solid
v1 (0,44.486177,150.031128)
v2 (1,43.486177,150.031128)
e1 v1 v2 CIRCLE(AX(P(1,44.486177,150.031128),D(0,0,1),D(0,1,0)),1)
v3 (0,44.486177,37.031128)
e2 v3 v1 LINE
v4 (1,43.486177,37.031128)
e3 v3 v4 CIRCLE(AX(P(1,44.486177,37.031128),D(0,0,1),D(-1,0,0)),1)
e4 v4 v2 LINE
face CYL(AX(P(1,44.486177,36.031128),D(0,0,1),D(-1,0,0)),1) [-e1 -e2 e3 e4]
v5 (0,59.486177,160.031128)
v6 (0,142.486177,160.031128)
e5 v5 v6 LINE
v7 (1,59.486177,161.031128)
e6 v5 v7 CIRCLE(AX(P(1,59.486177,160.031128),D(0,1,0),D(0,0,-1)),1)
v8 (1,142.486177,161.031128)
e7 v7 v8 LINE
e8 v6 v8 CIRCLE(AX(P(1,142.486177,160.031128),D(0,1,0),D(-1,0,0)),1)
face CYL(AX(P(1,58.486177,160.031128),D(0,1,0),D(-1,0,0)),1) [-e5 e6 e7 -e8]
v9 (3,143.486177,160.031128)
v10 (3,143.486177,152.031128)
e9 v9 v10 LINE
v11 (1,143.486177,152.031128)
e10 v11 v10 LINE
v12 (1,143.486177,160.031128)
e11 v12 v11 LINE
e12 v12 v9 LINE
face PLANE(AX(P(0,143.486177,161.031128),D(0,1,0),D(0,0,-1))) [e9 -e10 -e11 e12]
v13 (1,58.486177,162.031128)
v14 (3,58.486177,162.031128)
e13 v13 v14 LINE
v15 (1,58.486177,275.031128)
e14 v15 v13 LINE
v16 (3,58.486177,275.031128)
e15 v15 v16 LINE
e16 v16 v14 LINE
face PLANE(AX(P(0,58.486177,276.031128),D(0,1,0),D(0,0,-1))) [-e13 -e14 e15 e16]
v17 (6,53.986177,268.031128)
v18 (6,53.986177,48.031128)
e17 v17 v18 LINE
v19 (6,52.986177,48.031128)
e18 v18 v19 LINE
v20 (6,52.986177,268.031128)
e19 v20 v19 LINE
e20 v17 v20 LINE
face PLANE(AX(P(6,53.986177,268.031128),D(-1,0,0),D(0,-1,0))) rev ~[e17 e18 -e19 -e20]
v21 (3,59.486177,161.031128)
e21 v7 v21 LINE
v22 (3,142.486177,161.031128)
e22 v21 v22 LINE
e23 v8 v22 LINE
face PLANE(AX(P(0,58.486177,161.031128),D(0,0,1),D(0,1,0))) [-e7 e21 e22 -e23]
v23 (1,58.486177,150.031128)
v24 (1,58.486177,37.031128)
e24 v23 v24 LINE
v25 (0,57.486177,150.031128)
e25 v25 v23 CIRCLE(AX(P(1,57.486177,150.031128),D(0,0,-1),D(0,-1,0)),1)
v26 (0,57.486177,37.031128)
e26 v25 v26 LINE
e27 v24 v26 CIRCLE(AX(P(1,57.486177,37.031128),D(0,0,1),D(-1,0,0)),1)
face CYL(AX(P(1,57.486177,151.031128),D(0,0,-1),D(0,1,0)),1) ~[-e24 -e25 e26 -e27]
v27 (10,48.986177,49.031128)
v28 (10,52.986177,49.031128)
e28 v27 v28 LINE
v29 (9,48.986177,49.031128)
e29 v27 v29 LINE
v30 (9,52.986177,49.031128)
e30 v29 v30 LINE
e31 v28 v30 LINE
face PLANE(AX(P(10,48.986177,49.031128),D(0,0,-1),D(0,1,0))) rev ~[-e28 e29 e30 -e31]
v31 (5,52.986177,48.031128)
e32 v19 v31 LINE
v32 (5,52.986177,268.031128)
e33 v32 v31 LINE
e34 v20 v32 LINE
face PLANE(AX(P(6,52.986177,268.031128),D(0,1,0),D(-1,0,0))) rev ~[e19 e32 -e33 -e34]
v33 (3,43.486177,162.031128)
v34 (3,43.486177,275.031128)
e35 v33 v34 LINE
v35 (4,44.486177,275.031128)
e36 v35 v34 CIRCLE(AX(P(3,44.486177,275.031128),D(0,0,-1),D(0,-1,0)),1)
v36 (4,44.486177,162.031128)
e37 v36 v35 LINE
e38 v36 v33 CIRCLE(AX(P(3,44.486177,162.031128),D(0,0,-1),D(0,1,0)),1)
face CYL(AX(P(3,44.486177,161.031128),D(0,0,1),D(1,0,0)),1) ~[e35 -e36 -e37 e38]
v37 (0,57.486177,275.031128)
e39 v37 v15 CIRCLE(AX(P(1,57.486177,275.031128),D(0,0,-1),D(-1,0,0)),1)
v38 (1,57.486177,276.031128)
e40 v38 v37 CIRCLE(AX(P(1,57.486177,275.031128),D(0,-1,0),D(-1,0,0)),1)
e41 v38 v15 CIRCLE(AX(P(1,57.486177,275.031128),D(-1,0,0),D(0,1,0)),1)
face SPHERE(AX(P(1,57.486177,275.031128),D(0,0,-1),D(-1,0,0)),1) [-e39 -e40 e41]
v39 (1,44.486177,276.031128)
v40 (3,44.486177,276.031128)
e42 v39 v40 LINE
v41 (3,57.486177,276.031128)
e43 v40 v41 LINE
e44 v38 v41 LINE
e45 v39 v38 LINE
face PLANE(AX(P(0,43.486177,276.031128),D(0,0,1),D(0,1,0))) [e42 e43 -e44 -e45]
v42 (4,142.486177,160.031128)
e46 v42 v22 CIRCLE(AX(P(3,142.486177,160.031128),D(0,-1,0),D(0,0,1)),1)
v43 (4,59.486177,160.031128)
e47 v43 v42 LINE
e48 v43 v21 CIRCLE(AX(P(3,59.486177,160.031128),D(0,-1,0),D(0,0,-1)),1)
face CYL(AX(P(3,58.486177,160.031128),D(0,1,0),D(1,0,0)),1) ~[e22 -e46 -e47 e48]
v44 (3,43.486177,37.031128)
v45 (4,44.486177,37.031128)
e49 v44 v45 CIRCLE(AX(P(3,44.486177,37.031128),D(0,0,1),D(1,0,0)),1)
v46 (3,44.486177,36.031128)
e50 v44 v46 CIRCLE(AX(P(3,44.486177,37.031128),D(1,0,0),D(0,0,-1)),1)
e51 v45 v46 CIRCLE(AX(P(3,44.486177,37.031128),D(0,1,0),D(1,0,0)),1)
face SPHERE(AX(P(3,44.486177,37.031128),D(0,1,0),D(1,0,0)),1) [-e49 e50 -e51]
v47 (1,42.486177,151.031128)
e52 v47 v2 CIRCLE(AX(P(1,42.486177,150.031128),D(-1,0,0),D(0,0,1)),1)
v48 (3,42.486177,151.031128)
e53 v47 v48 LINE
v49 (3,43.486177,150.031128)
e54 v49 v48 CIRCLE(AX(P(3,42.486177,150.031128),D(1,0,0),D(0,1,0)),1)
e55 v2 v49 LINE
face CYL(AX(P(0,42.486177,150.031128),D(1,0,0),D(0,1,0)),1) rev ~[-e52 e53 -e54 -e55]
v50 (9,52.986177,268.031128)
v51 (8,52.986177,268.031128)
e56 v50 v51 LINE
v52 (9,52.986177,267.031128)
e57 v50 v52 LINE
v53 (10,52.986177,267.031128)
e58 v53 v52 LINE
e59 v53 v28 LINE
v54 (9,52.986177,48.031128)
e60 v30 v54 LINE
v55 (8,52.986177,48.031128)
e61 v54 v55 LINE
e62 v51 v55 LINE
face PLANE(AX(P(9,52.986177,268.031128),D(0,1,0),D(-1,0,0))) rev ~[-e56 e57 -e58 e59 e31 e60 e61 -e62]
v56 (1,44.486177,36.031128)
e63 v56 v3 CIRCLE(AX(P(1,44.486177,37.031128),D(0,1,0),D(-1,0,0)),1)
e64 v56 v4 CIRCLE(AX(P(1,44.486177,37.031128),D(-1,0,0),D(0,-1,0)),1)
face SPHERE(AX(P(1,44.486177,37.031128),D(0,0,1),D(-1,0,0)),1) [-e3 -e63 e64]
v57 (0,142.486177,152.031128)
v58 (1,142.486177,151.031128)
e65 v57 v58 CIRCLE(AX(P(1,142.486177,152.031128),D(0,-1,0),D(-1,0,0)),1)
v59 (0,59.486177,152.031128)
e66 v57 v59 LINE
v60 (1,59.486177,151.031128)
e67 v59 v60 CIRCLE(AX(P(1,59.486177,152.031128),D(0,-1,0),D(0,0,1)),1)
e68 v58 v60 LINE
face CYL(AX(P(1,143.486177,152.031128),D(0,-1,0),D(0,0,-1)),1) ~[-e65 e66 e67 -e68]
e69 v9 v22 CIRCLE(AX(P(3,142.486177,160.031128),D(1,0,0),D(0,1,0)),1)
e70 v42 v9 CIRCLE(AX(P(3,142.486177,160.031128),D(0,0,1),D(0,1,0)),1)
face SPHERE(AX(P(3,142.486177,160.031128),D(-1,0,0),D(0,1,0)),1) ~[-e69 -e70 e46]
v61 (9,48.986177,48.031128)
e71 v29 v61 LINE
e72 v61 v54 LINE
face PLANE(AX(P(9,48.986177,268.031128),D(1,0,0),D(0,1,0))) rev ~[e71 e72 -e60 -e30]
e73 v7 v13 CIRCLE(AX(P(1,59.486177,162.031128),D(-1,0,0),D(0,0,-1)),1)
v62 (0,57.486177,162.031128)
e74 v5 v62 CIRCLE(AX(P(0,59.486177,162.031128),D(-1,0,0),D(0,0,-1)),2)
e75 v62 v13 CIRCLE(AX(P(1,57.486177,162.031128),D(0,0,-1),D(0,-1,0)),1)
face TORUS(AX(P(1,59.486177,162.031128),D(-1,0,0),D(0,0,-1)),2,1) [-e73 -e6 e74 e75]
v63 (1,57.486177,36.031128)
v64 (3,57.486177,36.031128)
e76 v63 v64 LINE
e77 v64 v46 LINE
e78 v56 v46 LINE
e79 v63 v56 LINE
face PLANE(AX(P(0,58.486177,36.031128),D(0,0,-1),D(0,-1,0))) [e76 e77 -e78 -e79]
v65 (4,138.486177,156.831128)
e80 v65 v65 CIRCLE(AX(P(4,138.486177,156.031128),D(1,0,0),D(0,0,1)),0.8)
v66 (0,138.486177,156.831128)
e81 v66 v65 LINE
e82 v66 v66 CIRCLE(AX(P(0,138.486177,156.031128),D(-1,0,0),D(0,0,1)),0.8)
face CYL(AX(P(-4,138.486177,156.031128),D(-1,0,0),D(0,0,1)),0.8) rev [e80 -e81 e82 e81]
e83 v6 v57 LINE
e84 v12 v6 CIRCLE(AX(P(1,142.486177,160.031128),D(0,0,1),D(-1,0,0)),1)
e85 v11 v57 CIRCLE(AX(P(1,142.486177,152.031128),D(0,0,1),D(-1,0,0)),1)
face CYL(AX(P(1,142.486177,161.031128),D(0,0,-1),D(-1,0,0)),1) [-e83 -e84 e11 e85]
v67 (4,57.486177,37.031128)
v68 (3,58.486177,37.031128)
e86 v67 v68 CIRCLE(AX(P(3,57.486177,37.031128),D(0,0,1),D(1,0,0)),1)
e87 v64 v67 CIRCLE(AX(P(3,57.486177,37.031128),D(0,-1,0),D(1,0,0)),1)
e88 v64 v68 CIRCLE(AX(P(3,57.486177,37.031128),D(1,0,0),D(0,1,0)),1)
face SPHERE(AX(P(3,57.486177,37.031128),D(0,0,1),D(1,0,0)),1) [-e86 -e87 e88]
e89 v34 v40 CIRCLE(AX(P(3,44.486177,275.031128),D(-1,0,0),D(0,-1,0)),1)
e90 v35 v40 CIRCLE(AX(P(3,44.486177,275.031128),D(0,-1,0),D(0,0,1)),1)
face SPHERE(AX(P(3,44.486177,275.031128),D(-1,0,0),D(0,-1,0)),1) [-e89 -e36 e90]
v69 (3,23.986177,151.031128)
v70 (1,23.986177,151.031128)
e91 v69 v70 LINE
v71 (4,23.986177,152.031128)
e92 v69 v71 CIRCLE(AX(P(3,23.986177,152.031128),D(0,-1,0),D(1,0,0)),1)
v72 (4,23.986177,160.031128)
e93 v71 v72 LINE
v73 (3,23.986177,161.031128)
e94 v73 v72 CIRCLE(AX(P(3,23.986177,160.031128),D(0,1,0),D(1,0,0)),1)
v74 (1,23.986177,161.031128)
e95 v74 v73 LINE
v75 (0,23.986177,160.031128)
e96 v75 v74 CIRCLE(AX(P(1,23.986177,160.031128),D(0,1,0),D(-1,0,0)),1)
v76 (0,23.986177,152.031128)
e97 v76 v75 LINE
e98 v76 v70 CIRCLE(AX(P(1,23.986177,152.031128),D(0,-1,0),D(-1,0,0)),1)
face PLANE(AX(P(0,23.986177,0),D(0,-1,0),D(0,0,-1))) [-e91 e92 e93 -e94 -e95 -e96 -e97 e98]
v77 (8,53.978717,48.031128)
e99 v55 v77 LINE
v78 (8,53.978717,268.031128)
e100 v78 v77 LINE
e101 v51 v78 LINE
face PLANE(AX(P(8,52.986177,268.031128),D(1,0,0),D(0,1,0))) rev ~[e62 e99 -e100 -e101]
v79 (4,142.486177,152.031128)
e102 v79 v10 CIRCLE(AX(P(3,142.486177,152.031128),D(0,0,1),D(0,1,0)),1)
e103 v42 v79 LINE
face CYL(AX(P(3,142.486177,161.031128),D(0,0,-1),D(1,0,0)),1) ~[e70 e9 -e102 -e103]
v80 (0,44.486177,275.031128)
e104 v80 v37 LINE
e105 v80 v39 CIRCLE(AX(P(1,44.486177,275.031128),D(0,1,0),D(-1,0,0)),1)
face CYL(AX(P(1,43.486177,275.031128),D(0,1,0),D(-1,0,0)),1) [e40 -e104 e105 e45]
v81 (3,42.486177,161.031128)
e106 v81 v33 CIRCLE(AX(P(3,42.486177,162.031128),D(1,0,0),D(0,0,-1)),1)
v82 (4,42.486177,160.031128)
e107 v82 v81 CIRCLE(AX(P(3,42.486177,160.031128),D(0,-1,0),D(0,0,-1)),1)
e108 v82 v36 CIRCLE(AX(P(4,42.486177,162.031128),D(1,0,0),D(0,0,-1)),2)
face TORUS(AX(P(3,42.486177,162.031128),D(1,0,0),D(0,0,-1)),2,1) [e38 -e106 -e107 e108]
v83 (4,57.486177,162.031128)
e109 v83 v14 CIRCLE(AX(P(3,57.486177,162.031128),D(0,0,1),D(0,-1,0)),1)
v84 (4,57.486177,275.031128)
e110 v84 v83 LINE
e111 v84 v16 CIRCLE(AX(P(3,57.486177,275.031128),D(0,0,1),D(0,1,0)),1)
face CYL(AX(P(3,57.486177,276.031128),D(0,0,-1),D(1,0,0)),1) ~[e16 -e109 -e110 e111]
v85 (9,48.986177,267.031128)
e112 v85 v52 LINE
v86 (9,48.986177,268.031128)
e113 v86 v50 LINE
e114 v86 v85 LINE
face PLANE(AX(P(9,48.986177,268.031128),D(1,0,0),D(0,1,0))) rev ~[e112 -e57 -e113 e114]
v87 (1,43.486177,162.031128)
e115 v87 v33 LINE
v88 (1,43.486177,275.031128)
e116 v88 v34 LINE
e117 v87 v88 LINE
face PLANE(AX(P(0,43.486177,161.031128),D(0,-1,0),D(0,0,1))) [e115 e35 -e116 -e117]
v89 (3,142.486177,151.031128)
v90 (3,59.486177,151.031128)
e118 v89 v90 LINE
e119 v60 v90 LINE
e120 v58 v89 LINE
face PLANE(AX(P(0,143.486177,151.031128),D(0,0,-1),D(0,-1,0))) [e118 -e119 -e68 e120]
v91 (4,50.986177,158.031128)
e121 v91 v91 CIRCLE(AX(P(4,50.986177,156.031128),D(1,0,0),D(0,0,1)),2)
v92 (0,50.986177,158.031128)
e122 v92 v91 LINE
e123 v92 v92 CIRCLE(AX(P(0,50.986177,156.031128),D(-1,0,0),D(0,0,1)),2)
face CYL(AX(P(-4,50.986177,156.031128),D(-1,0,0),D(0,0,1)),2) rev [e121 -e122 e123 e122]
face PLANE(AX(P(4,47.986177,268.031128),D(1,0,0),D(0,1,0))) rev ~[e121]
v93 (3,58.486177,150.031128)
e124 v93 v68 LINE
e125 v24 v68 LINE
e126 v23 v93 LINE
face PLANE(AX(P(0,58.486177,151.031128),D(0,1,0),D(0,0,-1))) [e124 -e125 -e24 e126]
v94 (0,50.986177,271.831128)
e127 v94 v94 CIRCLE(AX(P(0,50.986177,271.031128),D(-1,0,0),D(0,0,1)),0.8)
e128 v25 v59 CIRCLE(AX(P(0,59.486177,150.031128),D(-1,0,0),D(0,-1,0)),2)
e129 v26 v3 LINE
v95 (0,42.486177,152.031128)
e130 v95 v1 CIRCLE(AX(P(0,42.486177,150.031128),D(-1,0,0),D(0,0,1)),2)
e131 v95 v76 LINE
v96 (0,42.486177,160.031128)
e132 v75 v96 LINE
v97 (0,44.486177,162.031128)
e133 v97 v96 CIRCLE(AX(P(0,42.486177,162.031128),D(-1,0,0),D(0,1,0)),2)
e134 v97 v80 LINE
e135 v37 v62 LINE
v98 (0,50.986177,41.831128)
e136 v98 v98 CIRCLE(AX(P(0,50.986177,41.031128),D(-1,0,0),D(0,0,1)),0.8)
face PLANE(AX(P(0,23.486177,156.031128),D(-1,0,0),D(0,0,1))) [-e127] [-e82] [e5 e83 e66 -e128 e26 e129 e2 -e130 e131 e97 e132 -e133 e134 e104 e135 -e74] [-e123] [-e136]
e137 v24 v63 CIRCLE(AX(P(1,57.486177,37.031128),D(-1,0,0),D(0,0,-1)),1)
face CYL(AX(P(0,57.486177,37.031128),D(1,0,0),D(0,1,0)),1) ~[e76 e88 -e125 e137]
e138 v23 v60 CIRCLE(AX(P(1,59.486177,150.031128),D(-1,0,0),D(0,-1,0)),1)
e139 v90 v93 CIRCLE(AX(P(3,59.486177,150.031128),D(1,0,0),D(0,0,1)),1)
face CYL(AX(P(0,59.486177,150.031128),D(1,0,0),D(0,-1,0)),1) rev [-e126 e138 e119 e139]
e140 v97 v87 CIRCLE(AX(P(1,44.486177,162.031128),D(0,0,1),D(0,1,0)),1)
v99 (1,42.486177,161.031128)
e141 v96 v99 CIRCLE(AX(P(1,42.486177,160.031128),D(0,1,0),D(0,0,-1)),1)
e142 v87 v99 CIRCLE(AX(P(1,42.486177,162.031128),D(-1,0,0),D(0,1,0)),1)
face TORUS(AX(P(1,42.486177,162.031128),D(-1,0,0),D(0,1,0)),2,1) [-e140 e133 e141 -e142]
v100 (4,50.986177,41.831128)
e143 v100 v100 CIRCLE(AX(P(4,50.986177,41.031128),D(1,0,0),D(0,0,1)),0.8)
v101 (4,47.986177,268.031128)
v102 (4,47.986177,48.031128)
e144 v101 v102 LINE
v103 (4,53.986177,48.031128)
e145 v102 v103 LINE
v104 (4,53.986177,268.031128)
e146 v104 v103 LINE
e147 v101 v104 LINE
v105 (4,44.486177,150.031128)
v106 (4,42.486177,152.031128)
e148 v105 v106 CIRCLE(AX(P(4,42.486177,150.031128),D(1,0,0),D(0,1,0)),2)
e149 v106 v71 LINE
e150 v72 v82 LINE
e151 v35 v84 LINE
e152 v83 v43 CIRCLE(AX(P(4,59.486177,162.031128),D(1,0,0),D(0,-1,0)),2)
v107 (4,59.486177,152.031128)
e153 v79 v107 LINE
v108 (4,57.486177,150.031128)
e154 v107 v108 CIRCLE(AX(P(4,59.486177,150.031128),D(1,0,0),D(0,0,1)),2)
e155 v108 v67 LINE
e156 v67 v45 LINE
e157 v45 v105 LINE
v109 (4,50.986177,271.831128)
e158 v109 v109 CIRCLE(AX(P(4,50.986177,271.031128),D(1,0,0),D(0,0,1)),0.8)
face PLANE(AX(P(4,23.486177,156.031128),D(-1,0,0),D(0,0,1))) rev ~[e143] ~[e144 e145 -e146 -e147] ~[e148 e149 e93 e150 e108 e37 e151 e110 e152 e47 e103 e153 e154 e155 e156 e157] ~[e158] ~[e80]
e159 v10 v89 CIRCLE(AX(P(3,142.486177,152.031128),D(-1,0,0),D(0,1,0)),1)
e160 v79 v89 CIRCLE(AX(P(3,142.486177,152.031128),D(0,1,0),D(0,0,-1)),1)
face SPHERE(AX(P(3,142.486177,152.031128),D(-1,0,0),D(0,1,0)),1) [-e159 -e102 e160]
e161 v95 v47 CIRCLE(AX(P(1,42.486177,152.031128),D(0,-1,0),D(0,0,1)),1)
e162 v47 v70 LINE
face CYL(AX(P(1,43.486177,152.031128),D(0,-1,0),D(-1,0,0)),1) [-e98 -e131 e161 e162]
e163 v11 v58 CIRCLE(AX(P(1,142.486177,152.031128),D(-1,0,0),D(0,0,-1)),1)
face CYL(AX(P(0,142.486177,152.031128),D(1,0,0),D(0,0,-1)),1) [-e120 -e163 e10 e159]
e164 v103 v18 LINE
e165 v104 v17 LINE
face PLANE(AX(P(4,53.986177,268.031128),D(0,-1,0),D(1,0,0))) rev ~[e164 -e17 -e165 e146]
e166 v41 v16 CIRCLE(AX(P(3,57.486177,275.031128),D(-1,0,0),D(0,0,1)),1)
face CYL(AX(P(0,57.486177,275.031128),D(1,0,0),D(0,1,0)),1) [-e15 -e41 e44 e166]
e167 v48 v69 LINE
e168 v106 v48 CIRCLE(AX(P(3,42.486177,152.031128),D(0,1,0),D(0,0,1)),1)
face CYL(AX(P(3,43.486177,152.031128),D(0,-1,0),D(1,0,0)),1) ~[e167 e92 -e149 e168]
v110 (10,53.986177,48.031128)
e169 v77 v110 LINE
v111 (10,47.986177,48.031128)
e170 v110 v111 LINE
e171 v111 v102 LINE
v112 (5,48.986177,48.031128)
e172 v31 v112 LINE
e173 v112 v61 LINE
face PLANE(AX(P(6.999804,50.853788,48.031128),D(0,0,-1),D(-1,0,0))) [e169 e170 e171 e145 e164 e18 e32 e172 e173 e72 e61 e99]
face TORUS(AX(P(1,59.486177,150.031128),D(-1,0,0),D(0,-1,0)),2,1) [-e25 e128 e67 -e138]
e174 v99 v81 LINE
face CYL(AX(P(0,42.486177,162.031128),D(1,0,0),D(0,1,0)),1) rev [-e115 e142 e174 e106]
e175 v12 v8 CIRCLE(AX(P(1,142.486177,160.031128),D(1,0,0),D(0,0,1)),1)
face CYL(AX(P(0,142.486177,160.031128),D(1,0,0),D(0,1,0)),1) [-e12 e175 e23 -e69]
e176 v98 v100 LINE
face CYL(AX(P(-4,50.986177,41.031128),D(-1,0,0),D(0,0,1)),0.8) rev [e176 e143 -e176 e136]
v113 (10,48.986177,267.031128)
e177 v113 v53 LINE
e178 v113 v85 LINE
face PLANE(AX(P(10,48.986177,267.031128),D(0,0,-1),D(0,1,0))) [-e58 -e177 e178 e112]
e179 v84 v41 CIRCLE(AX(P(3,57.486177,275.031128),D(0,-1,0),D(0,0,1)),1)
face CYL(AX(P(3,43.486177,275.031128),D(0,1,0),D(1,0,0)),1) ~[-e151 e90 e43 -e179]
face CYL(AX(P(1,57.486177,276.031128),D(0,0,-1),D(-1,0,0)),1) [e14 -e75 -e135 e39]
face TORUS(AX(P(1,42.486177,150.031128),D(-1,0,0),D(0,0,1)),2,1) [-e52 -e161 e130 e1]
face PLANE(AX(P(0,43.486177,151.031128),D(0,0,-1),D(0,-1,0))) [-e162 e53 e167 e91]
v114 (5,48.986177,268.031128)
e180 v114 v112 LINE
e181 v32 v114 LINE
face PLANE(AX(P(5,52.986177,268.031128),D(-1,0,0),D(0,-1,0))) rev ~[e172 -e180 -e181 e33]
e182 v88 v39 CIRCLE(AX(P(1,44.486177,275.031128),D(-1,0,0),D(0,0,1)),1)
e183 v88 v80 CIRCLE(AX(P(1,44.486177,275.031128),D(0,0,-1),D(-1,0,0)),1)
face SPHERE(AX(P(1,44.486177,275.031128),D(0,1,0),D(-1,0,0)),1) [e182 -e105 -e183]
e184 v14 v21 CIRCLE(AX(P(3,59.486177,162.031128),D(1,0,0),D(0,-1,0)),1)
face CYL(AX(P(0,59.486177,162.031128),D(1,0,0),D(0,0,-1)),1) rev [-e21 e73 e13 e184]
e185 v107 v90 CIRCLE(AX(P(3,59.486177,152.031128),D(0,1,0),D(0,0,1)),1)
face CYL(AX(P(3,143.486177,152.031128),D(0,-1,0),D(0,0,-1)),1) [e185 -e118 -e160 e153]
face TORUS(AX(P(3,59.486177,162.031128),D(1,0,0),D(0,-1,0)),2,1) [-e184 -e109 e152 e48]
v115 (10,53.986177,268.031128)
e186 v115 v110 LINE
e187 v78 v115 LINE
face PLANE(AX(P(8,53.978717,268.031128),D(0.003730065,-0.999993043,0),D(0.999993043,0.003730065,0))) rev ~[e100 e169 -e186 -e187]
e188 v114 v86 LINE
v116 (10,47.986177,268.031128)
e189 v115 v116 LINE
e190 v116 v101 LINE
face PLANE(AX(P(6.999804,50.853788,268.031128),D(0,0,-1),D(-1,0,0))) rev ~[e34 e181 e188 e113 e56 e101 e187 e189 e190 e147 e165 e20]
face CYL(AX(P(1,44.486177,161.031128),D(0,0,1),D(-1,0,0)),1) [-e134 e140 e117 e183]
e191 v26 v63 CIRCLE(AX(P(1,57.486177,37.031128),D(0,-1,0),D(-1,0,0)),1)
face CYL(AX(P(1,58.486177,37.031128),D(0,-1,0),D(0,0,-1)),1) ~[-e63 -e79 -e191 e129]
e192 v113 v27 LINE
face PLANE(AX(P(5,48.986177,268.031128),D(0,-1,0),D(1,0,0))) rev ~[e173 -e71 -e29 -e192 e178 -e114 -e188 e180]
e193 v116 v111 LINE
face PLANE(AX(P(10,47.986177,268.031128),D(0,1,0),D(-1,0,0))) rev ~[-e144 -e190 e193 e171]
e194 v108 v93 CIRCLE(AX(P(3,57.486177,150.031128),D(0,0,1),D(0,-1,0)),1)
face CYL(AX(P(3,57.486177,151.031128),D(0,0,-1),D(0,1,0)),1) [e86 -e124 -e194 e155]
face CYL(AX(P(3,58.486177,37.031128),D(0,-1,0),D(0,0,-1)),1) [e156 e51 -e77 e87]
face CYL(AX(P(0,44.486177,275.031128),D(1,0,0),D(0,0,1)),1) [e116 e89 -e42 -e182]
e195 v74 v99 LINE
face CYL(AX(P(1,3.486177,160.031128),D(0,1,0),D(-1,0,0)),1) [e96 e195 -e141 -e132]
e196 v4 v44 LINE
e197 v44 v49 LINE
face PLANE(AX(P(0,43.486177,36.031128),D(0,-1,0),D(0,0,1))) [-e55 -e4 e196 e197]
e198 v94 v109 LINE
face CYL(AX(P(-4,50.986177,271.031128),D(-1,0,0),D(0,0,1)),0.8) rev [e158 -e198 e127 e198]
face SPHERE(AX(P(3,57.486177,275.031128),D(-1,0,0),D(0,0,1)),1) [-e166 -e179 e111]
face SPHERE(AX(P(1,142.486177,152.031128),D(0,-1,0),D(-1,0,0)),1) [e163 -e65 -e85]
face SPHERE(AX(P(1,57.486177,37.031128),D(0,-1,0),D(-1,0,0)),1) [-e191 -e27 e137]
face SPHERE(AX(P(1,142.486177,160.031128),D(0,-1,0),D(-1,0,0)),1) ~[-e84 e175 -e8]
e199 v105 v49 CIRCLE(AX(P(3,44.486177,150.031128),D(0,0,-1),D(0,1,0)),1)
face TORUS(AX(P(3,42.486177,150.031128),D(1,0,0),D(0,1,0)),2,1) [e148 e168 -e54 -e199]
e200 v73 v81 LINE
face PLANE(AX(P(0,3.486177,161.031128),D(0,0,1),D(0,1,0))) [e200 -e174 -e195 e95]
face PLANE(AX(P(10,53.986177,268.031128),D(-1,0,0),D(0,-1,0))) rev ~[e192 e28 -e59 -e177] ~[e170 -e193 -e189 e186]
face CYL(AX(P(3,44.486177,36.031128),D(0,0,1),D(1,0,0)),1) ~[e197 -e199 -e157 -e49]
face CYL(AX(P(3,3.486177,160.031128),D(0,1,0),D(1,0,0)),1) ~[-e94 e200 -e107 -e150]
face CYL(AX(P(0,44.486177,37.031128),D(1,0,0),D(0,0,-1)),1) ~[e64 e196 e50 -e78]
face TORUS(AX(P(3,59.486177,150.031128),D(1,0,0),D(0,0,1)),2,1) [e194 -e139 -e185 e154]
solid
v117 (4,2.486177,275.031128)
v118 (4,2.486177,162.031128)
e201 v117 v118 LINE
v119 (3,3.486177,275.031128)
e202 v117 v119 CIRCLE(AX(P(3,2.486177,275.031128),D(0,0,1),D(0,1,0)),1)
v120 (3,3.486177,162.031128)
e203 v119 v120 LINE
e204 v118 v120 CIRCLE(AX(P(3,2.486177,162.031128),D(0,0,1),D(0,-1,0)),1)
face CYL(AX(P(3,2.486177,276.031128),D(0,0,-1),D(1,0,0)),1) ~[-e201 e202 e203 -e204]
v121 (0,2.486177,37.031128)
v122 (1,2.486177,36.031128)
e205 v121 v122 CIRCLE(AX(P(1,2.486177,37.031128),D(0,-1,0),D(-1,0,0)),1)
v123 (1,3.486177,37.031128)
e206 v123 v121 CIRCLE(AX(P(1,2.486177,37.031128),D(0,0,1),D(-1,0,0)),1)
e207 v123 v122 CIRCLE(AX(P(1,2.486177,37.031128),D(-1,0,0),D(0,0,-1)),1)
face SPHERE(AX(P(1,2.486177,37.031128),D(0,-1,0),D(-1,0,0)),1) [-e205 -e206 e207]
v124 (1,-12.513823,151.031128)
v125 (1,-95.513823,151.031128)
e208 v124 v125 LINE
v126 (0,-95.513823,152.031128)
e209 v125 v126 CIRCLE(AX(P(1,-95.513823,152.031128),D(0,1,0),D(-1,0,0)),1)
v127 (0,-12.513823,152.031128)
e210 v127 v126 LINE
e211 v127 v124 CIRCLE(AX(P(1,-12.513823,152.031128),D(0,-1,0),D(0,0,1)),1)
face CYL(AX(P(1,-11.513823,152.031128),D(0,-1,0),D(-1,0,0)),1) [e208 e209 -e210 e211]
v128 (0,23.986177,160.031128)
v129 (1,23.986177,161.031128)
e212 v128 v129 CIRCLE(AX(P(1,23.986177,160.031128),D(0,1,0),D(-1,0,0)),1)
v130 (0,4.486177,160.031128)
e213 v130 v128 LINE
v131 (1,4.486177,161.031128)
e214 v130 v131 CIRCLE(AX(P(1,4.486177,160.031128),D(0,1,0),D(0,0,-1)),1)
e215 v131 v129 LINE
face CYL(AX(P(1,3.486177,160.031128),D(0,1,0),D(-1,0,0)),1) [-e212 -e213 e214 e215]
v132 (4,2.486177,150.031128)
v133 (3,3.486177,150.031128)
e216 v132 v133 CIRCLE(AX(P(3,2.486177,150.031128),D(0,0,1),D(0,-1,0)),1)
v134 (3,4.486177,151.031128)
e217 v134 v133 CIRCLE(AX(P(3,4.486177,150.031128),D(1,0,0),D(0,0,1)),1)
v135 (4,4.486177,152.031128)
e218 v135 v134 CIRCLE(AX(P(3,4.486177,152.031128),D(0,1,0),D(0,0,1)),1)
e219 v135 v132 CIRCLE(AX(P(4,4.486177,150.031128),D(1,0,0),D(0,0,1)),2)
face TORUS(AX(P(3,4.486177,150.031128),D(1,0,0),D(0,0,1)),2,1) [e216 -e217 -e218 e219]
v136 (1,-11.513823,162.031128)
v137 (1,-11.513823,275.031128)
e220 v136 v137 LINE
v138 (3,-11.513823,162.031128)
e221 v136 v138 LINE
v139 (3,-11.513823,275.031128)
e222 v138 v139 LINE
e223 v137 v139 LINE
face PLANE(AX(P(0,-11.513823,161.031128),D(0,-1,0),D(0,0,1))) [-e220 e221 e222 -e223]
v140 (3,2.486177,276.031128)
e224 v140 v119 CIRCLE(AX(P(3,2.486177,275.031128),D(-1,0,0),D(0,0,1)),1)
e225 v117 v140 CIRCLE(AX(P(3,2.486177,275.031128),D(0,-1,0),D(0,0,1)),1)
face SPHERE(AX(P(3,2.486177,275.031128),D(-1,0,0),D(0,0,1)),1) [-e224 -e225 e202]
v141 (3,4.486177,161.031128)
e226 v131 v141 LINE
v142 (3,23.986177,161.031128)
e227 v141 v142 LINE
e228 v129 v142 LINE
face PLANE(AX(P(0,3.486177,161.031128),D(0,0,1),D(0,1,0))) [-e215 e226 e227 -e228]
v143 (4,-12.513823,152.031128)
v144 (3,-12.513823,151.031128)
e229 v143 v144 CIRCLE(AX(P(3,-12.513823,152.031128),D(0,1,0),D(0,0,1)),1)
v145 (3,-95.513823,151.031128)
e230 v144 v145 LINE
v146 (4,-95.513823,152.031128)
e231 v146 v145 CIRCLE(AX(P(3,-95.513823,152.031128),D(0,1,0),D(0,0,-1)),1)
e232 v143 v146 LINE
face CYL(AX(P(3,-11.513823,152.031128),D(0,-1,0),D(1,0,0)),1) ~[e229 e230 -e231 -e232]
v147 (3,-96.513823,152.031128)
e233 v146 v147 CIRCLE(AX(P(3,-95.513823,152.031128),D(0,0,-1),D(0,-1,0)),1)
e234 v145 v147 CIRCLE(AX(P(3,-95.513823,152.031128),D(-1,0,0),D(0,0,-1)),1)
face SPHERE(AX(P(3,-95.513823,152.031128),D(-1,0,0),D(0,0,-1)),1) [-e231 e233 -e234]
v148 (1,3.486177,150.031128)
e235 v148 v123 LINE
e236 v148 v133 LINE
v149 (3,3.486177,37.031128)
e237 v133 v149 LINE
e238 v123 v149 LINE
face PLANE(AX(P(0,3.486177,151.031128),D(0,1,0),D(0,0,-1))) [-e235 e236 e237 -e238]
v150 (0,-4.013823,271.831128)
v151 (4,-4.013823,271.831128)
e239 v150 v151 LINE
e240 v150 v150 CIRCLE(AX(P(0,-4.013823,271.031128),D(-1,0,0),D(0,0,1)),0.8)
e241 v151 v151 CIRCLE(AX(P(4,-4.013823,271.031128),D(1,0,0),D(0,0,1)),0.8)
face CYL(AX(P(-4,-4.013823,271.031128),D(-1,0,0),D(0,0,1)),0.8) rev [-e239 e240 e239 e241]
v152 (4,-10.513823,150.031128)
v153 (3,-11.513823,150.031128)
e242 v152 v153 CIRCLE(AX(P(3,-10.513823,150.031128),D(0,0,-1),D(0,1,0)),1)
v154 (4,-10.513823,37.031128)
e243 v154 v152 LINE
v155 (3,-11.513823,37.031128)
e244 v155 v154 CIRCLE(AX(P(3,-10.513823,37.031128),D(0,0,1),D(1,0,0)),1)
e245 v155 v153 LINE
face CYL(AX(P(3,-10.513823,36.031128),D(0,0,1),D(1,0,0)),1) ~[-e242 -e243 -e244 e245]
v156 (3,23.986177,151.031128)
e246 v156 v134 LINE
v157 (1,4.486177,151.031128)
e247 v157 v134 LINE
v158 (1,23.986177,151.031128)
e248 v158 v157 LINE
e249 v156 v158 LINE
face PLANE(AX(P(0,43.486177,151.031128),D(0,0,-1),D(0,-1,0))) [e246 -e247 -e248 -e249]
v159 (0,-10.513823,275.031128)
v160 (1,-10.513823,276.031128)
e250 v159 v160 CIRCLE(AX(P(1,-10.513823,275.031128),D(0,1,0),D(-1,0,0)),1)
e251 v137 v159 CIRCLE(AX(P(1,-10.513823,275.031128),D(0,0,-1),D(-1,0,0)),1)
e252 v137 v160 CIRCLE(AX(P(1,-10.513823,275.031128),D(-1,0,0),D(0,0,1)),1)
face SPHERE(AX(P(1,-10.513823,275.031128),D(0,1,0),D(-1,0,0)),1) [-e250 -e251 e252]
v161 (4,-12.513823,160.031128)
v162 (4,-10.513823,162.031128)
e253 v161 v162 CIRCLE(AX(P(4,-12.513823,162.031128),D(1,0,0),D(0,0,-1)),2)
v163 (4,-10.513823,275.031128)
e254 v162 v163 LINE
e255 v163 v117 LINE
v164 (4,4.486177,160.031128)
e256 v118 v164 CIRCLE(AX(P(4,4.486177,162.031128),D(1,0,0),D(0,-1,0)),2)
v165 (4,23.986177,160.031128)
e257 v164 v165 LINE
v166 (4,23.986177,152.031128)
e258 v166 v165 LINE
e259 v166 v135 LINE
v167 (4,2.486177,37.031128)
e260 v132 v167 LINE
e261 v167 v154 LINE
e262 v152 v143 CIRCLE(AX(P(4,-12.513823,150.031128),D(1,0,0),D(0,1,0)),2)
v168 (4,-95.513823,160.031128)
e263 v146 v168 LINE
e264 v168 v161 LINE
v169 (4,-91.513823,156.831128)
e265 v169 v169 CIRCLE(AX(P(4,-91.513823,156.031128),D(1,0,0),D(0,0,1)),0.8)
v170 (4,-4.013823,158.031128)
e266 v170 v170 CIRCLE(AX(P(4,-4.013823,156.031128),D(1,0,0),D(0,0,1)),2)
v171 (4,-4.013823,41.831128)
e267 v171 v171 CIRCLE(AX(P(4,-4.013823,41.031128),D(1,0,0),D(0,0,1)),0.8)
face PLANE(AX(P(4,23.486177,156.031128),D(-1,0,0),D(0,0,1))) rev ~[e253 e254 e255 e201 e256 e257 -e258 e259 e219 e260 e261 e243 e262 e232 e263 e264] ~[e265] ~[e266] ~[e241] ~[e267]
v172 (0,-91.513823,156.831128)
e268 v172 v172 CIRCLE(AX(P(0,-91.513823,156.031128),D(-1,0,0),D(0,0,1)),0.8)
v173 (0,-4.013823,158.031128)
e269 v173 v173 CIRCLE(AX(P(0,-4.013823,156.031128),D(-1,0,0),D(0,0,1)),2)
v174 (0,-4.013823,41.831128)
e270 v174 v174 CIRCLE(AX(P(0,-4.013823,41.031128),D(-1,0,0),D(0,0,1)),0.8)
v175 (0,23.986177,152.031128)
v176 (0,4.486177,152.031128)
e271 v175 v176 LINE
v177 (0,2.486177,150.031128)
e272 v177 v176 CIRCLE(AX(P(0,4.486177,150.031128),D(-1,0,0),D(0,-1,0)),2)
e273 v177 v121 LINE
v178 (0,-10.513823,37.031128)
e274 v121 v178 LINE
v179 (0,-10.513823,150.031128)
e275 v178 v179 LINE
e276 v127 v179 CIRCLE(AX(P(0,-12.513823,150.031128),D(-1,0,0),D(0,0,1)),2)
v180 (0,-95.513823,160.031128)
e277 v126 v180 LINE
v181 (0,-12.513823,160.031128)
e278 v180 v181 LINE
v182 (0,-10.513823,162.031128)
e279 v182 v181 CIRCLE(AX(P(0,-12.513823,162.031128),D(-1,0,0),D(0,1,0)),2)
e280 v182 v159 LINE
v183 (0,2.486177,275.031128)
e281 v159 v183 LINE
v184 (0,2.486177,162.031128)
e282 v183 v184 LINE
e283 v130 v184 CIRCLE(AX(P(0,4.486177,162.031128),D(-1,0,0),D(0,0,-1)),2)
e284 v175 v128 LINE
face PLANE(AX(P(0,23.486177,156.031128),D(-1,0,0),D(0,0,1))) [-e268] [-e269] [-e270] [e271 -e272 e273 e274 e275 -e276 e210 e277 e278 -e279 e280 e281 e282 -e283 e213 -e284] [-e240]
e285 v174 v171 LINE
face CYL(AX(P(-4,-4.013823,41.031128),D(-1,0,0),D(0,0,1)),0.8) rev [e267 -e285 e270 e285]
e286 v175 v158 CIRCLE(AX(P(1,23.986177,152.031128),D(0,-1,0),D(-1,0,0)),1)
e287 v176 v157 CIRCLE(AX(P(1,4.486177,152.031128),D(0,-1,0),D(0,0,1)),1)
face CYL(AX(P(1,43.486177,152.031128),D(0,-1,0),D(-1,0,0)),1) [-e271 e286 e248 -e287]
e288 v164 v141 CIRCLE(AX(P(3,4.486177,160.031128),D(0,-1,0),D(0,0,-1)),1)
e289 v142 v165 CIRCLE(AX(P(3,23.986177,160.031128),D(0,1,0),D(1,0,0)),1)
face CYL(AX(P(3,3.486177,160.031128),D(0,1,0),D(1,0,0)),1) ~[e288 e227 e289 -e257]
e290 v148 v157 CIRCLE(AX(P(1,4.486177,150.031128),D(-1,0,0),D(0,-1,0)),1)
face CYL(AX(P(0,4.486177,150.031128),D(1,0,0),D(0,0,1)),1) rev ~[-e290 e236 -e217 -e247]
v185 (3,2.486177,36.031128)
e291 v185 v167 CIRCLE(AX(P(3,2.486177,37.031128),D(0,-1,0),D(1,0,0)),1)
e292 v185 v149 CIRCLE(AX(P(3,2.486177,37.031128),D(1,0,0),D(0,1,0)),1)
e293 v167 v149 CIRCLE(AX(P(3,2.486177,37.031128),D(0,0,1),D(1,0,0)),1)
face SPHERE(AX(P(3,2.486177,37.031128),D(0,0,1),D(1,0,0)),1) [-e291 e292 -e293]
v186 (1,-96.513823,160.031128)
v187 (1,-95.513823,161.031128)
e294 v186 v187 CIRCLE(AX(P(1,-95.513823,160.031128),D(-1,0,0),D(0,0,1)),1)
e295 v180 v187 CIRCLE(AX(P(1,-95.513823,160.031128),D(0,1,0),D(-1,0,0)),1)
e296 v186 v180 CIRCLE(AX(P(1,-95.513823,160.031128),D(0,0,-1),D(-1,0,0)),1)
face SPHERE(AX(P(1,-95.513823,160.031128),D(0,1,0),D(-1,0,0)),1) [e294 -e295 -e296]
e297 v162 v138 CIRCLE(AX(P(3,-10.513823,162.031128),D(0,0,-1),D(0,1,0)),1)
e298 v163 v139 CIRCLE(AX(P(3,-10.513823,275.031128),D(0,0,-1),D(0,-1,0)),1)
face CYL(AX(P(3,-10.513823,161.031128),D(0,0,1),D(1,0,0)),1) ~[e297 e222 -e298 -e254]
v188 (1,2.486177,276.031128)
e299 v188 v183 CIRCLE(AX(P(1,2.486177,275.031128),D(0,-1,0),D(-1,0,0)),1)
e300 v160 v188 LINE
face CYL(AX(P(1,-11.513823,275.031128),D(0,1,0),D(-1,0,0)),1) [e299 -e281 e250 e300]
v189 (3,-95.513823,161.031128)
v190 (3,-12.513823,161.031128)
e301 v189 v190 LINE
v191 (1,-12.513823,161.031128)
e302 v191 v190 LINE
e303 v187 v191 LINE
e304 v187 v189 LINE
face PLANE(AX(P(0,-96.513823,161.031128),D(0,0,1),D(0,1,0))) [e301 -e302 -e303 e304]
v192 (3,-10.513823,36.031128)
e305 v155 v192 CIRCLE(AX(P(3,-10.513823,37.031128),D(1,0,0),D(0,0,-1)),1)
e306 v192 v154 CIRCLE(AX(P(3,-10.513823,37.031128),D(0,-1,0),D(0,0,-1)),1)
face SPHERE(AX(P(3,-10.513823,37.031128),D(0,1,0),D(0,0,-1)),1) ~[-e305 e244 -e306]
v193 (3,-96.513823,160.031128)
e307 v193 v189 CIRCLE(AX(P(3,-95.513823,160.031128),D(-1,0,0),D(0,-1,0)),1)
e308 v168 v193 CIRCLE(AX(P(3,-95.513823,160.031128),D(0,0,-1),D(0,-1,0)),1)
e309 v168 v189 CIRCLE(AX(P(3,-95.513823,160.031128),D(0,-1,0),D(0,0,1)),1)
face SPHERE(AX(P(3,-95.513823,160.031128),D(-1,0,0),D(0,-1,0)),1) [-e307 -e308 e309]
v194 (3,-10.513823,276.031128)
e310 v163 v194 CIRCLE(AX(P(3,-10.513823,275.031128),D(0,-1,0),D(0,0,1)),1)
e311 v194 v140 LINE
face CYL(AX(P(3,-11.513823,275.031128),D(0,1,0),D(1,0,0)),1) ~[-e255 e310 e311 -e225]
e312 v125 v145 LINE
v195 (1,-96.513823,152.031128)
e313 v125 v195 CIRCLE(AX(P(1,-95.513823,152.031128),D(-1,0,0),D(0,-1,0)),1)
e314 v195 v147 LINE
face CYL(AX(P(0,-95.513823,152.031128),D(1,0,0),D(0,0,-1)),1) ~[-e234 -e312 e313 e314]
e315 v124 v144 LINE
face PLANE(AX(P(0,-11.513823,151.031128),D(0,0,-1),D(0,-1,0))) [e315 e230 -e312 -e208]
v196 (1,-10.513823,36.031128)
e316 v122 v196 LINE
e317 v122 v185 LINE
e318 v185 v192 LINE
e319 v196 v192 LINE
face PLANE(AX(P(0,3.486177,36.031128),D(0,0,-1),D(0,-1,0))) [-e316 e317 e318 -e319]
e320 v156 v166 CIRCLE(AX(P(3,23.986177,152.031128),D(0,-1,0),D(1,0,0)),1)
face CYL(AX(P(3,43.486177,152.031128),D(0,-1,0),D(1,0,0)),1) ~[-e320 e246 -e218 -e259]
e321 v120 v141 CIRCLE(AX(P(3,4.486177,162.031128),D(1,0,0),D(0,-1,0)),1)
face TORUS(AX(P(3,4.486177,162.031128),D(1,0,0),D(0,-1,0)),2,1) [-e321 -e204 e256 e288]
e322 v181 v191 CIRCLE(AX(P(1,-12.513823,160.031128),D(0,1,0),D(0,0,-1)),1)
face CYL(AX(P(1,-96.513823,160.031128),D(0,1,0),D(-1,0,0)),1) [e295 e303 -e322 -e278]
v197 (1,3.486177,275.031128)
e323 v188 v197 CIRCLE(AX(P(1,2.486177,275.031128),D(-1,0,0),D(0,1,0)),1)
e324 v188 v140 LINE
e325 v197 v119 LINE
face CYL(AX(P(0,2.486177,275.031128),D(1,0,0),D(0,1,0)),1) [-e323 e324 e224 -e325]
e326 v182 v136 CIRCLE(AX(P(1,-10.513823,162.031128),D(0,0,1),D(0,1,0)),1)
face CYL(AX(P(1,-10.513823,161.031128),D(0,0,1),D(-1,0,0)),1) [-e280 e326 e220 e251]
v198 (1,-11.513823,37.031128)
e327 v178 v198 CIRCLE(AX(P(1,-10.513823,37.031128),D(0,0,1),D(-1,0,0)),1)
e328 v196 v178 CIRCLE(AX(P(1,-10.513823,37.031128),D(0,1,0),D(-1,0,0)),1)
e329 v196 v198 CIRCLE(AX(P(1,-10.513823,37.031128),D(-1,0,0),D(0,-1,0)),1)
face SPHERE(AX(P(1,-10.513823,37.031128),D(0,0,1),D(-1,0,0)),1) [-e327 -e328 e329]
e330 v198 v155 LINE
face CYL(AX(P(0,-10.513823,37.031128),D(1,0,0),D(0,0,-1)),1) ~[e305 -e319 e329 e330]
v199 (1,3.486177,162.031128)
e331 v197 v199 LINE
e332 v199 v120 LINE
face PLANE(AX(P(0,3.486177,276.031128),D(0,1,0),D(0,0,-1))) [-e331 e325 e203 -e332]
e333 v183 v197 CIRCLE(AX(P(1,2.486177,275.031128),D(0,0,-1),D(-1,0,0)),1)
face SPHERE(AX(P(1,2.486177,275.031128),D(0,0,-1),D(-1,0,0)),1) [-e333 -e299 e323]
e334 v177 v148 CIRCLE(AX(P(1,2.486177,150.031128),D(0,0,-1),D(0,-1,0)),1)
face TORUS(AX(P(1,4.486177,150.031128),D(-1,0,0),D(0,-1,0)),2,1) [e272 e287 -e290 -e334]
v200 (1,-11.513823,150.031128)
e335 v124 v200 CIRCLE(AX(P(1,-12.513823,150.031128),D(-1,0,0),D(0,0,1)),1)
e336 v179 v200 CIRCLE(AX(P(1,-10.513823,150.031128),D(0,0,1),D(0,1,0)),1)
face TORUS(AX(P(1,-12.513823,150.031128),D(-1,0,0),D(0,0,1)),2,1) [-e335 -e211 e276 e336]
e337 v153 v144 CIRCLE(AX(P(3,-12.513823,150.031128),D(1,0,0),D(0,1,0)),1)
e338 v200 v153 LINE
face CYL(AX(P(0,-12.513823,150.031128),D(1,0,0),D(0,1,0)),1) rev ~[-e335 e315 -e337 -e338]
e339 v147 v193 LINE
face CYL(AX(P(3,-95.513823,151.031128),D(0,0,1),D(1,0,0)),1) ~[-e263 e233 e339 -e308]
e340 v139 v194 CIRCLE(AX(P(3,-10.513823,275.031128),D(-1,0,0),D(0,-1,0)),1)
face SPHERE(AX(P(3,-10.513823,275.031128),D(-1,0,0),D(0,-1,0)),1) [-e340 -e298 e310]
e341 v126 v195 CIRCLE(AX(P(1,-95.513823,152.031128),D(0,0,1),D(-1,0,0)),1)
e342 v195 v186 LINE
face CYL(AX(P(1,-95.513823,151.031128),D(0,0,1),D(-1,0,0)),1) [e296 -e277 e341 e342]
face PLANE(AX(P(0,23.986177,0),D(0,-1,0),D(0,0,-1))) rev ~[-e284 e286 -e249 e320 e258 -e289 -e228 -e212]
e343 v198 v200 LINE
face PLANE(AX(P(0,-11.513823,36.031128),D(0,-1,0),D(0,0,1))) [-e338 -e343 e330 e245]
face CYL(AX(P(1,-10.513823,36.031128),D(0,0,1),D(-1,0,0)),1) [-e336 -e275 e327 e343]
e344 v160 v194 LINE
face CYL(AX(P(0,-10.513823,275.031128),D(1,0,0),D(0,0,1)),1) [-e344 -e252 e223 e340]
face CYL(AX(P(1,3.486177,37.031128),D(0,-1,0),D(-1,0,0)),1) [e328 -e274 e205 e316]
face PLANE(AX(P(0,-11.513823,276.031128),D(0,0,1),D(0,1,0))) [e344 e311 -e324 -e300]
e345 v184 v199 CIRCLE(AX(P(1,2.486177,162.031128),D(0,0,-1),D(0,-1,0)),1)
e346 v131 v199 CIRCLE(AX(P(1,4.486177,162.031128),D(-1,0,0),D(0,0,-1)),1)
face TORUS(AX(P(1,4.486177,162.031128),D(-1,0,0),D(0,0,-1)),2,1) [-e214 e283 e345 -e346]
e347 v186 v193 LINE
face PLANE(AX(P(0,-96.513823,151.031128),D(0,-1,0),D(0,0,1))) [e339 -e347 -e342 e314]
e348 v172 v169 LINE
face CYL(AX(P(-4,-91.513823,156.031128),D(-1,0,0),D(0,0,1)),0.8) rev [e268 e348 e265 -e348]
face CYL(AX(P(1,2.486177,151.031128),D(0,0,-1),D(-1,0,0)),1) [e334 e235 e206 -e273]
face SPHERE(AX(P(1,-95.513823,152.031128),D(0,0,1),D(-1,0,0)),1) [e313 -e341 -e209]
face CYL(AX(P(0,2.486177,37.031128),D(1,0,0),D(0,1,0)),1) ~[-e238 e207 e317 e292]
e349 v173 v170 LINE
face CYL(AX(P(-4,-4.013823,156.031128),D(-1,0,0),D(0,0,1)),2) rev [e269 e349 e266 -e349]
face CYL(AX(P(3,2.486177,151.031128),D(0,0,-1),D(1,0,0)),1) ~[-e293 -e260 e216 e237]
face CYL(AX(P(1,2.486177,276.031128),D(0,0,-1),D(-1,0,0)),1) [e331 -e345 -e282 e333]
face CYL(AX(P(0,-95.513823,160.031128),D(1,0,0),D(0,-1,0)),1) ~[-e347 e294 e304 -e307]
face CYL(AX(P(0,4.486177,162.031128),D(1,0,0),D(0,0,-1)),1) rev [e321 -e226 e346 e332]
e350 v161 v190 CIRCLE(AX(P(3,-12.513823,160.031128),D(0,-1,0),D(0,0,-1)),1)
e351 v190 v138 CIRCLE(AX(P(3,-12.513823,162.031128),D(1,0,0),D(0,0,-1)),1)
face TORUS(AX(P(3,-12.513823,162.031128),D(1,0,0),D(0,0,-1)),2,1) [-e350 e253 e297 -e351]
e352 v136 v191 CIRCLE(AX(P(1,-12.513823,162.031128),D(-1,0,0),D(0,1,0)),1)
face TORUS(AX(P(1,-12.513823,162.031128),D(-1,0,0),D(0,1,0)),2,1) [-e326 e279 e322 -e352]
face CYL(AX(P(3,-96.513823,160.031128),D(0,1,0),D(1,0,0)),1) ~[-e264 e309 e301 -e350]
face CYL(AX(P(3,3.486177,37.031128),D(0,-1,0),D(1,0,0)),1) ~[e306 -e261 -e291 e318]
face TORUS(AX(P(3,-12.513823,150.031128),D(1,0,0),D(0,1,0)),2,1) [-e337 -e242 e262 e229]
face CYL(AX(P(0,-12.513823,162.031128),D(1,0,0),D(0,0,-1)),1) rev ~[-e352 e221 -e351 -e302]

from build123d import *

# Parameters (mm, degrees)
BOSS_EXTRUDE1_DEPTH     = 4
CUT_EXTRUDE1_DEPTH      = 4
CUT_EXTRUDE1_DEPTH_BACK = 4
SKETCH4_R               = 0.8
SKETCH4_R_2             = 2
FILLET1_R               = 1
BOSS_EXTRUDE5_DEPTH     = 220
SKETCH9_W               = 218
SKETCH9_H               = 4
CUT_EXTRUDE2_DEPTH      = 2


with BuildPart() as part:
    # Sketch3 → Boss-Extrude1 (new body)
    with BuildSketch(Plane(origin=(0, 0, 0), x_dir=(0, 0, -1), z_dir=(1, 0, 0))):
        Polygon((-151.031128477, 58.486176731), (-36.031128477, 58.486176731), (-36.031128477, 43.486176731), (-151.031128477, 43.486176731), (-151.031128477, 3.486176731), (-36.031128477, 3.486176731), (-36.031128477, -11.513823269), (-151.031128477, -11.513823269), (-151.031128477, -96.513823269), (-161.031128477, -96.513823269), (-161.031128477, -11.513823269), (-276.031128477, -11.513823269), (-276.031128477, 3.486176731), (-161.031128477, 3.486176731), (-161.031128477, 43.486176731), (-276.031128477, 43.486176731), (-276.031128477, 58.486176731), (-161.031128477, 58.486176731), (-161.031128477, 143.486176731), (-151.031128477, 143.486176731), align=None)
    extrude(amount=BOSS_EXTRUDE1_DEPTH)

    # Sketch4 → Cut-Extrude1 (cut, two sides: drawn at the far end of the back side and taken through both)
    with BuildSketch(Plane(origin=(0, 0, 0), x_dir=(0, 0, -1), z_dir=(1, 0, 0)).offset(-CUT_EXTRUDE1_DEPTH_BACK)):
        with Locations((-156.031128477, -91.513823269)):
            Circle(SKETCH4_R)
        with Locations((-156.031128477, 138.486176731)):
            Circle(SKETCH4_R)
        with Locations((-271.031128477, -4.013823269)):
            Circle(SKETCH4_R)
        with Locations((-271.031128477, 50.986176731)):
            Circle(SKETCH4_R)
        with Locations((-41.031128477, -4.013823269)):
            Circle(SKETCH4_R)
        with Locations((-41.031128477, 50.986176731)):
            Circle(SKETCH4_R)
        with Locations((-156.031128477, -4.013823269)):
            Circle(SKETCH4_R_2)
        with Locations((-156.031128477, 50.986176731)):
            Circle(SKETCH4_R_2)
    extrude(amount=CUT_EXTRUDE1_DEPTH + CUT_EXTRUDE1_DEPTH_BACK, mode=Mode.SUBTRACT)

    # Fillet1
    fillet1_edges = [part.edges().sort_by_distance(p)[0] for p in [
        (2, 143.486176731, 161.031128477),
        (2, 58.486176731, 161.031128477),
        (2, 58.486176731, 276.031128477),
        (2, 43.486176731, 276.031128477),
        (2, 43.486176731, 161.031128477),
        (2, 3.486176731, 161.031128477),
        (2, 3.486176731, 276.031128477),
        (2, -11.513823269, 276.031128477),
        (2, -11.513823269, 161.031128477),
        (2, -96.513823269, 161.031128477),
        (2, -96.513823269, 151.031128477),
        (2, -11.513823269, 151.031128477),
        (2, -11.513823269, 36.031128477),
        (2, 3.486176731, 36.031128477),
        (2, 3.486176731, 151.031128477),
        (2, 43.486176731, 151.031128477),
        (2, 43.486176731, 36.031128477),
        (2, 58.486176731, 36.031128477),
        (2, 58.486176731, 151.031128477),
        (2, 143.486176731, 151.031128477),
        (4, 100.986176731, 161.031128477),
        (4, 58.486176731, 218.531128477),
        (4, 50.986176731, 276.031128477),
        (4, 43.486176731, 218.531128477),
        (4, 23.486176731, 161.031128477),
        (4, 3.486176731, 218.531128477),
        (4, -4.013823269, 276.031128477),
        (4, -11.513823269, 218.531128477),
        (4, -54.013823269, 161.031128477),
        (4, -96.513823269, 156.031128477),
        (4, -54.013823269, 151.031128477),
        (4, -11.513823269, 93.531128477),
        (4, -4.013823269, 36.031128477),
        (4, 3.486176731, 93.531128477),
        (4, 23.486176731, 151.031128477),
        (4, 43.486176731, 93.531128477),
        (4, 50.986176731, 36.031128477),
        (4, 58.486176731, 93.531128477),
        (4, 100.986176731, 151.031128477),
        (4, 143.486176731, 156.031128477),
        (0, 100.986176731, 161.031128477),
        (0, 58.486176731, 218.531128477),
        (0, 50.986176731, 276.031128477),
        (0, 43.486176731, 218.531128477),
        (0, 23.486176731, 161.031128477),
        (0, 3.486176731, 218.531128477),
        (0, -4.013823269, 276.031128477),
        (0, -11.513823269, 218.531128477),
        (0, -54.013823269, 161.031128477),
        (0, -96.513823269, 156.031128477),
        (0, -54.013823269, 151.031128477),
        (0, -11.513823269, 93.531128477),
        (0, -4.013823269, 36.031128477),
        (0, 3.486176731, 93.531128477),
        (0, 23.486176731, 151.031128477),
        (0, 43.486176731, 93.531128477),
        (0, 50.986176731, 36.031128477),
        (0, 58.486176731, 93.531128477),
        (0, 100.986176731, 151.031128477),
        (0, 143.486176731, 156.031128477),
    ]]
    fillet(fillet1_edges, radius=FILLET1_R)

    # Sketch7 → Boss-Extrude5 (add)
    with BuildSketch(Plane.XY.offset(268.031128477)):
        Polygon((6, 53.986176731), (6, 52.986176731), (5, 52.986176731), (5, 48.986176731), (9, 48.986176731), (9, 52.986176731), (8, 52.986176731), (8, 53.978716549), (10, 53.986176731), (10, 47.986176731), (4, 47.986176731), (4, 53.986176731), align=None)
    extrude(amount=-BOSS_EXTRUDE5_DEPTH)

    # Sketch9 → Cut-Extrude2 (cut)
    with BuildSketch(Plane(origin=(10, 0, 0), x_dir=(0, 0, -1), z_dir=(1, 0, 0))):
        with Locations((-158.031128477, 50.986176731)):
            Rectangle(SKETCH9_W, SKETCH9_H)
    extrude(amount=-CUT_EXTRUDE2_DEPTH, mode=Mode.SUBTRACT)


with BuildPart() as body_2:
    # Split1: the piece on the far side of the plane
    add(part.part)
    split(bisect_by=Plane(origin=(0, 23.986176731, 0), x_dir=(0, 0, -1), z_dir=(0, -1, 0)), keep=Keep.BOTTOM)


with BuildPart() as part_1:
    add(part.part)

    # Split1
    split(bisect_by=Plane(origin=(0, 23.986176731, 0), x_dir=(0, 0, -1), z_dir=(0, -1, 0)), keep=Keep.TOP)


solid = Compound([body_2.part, part_1.part])
